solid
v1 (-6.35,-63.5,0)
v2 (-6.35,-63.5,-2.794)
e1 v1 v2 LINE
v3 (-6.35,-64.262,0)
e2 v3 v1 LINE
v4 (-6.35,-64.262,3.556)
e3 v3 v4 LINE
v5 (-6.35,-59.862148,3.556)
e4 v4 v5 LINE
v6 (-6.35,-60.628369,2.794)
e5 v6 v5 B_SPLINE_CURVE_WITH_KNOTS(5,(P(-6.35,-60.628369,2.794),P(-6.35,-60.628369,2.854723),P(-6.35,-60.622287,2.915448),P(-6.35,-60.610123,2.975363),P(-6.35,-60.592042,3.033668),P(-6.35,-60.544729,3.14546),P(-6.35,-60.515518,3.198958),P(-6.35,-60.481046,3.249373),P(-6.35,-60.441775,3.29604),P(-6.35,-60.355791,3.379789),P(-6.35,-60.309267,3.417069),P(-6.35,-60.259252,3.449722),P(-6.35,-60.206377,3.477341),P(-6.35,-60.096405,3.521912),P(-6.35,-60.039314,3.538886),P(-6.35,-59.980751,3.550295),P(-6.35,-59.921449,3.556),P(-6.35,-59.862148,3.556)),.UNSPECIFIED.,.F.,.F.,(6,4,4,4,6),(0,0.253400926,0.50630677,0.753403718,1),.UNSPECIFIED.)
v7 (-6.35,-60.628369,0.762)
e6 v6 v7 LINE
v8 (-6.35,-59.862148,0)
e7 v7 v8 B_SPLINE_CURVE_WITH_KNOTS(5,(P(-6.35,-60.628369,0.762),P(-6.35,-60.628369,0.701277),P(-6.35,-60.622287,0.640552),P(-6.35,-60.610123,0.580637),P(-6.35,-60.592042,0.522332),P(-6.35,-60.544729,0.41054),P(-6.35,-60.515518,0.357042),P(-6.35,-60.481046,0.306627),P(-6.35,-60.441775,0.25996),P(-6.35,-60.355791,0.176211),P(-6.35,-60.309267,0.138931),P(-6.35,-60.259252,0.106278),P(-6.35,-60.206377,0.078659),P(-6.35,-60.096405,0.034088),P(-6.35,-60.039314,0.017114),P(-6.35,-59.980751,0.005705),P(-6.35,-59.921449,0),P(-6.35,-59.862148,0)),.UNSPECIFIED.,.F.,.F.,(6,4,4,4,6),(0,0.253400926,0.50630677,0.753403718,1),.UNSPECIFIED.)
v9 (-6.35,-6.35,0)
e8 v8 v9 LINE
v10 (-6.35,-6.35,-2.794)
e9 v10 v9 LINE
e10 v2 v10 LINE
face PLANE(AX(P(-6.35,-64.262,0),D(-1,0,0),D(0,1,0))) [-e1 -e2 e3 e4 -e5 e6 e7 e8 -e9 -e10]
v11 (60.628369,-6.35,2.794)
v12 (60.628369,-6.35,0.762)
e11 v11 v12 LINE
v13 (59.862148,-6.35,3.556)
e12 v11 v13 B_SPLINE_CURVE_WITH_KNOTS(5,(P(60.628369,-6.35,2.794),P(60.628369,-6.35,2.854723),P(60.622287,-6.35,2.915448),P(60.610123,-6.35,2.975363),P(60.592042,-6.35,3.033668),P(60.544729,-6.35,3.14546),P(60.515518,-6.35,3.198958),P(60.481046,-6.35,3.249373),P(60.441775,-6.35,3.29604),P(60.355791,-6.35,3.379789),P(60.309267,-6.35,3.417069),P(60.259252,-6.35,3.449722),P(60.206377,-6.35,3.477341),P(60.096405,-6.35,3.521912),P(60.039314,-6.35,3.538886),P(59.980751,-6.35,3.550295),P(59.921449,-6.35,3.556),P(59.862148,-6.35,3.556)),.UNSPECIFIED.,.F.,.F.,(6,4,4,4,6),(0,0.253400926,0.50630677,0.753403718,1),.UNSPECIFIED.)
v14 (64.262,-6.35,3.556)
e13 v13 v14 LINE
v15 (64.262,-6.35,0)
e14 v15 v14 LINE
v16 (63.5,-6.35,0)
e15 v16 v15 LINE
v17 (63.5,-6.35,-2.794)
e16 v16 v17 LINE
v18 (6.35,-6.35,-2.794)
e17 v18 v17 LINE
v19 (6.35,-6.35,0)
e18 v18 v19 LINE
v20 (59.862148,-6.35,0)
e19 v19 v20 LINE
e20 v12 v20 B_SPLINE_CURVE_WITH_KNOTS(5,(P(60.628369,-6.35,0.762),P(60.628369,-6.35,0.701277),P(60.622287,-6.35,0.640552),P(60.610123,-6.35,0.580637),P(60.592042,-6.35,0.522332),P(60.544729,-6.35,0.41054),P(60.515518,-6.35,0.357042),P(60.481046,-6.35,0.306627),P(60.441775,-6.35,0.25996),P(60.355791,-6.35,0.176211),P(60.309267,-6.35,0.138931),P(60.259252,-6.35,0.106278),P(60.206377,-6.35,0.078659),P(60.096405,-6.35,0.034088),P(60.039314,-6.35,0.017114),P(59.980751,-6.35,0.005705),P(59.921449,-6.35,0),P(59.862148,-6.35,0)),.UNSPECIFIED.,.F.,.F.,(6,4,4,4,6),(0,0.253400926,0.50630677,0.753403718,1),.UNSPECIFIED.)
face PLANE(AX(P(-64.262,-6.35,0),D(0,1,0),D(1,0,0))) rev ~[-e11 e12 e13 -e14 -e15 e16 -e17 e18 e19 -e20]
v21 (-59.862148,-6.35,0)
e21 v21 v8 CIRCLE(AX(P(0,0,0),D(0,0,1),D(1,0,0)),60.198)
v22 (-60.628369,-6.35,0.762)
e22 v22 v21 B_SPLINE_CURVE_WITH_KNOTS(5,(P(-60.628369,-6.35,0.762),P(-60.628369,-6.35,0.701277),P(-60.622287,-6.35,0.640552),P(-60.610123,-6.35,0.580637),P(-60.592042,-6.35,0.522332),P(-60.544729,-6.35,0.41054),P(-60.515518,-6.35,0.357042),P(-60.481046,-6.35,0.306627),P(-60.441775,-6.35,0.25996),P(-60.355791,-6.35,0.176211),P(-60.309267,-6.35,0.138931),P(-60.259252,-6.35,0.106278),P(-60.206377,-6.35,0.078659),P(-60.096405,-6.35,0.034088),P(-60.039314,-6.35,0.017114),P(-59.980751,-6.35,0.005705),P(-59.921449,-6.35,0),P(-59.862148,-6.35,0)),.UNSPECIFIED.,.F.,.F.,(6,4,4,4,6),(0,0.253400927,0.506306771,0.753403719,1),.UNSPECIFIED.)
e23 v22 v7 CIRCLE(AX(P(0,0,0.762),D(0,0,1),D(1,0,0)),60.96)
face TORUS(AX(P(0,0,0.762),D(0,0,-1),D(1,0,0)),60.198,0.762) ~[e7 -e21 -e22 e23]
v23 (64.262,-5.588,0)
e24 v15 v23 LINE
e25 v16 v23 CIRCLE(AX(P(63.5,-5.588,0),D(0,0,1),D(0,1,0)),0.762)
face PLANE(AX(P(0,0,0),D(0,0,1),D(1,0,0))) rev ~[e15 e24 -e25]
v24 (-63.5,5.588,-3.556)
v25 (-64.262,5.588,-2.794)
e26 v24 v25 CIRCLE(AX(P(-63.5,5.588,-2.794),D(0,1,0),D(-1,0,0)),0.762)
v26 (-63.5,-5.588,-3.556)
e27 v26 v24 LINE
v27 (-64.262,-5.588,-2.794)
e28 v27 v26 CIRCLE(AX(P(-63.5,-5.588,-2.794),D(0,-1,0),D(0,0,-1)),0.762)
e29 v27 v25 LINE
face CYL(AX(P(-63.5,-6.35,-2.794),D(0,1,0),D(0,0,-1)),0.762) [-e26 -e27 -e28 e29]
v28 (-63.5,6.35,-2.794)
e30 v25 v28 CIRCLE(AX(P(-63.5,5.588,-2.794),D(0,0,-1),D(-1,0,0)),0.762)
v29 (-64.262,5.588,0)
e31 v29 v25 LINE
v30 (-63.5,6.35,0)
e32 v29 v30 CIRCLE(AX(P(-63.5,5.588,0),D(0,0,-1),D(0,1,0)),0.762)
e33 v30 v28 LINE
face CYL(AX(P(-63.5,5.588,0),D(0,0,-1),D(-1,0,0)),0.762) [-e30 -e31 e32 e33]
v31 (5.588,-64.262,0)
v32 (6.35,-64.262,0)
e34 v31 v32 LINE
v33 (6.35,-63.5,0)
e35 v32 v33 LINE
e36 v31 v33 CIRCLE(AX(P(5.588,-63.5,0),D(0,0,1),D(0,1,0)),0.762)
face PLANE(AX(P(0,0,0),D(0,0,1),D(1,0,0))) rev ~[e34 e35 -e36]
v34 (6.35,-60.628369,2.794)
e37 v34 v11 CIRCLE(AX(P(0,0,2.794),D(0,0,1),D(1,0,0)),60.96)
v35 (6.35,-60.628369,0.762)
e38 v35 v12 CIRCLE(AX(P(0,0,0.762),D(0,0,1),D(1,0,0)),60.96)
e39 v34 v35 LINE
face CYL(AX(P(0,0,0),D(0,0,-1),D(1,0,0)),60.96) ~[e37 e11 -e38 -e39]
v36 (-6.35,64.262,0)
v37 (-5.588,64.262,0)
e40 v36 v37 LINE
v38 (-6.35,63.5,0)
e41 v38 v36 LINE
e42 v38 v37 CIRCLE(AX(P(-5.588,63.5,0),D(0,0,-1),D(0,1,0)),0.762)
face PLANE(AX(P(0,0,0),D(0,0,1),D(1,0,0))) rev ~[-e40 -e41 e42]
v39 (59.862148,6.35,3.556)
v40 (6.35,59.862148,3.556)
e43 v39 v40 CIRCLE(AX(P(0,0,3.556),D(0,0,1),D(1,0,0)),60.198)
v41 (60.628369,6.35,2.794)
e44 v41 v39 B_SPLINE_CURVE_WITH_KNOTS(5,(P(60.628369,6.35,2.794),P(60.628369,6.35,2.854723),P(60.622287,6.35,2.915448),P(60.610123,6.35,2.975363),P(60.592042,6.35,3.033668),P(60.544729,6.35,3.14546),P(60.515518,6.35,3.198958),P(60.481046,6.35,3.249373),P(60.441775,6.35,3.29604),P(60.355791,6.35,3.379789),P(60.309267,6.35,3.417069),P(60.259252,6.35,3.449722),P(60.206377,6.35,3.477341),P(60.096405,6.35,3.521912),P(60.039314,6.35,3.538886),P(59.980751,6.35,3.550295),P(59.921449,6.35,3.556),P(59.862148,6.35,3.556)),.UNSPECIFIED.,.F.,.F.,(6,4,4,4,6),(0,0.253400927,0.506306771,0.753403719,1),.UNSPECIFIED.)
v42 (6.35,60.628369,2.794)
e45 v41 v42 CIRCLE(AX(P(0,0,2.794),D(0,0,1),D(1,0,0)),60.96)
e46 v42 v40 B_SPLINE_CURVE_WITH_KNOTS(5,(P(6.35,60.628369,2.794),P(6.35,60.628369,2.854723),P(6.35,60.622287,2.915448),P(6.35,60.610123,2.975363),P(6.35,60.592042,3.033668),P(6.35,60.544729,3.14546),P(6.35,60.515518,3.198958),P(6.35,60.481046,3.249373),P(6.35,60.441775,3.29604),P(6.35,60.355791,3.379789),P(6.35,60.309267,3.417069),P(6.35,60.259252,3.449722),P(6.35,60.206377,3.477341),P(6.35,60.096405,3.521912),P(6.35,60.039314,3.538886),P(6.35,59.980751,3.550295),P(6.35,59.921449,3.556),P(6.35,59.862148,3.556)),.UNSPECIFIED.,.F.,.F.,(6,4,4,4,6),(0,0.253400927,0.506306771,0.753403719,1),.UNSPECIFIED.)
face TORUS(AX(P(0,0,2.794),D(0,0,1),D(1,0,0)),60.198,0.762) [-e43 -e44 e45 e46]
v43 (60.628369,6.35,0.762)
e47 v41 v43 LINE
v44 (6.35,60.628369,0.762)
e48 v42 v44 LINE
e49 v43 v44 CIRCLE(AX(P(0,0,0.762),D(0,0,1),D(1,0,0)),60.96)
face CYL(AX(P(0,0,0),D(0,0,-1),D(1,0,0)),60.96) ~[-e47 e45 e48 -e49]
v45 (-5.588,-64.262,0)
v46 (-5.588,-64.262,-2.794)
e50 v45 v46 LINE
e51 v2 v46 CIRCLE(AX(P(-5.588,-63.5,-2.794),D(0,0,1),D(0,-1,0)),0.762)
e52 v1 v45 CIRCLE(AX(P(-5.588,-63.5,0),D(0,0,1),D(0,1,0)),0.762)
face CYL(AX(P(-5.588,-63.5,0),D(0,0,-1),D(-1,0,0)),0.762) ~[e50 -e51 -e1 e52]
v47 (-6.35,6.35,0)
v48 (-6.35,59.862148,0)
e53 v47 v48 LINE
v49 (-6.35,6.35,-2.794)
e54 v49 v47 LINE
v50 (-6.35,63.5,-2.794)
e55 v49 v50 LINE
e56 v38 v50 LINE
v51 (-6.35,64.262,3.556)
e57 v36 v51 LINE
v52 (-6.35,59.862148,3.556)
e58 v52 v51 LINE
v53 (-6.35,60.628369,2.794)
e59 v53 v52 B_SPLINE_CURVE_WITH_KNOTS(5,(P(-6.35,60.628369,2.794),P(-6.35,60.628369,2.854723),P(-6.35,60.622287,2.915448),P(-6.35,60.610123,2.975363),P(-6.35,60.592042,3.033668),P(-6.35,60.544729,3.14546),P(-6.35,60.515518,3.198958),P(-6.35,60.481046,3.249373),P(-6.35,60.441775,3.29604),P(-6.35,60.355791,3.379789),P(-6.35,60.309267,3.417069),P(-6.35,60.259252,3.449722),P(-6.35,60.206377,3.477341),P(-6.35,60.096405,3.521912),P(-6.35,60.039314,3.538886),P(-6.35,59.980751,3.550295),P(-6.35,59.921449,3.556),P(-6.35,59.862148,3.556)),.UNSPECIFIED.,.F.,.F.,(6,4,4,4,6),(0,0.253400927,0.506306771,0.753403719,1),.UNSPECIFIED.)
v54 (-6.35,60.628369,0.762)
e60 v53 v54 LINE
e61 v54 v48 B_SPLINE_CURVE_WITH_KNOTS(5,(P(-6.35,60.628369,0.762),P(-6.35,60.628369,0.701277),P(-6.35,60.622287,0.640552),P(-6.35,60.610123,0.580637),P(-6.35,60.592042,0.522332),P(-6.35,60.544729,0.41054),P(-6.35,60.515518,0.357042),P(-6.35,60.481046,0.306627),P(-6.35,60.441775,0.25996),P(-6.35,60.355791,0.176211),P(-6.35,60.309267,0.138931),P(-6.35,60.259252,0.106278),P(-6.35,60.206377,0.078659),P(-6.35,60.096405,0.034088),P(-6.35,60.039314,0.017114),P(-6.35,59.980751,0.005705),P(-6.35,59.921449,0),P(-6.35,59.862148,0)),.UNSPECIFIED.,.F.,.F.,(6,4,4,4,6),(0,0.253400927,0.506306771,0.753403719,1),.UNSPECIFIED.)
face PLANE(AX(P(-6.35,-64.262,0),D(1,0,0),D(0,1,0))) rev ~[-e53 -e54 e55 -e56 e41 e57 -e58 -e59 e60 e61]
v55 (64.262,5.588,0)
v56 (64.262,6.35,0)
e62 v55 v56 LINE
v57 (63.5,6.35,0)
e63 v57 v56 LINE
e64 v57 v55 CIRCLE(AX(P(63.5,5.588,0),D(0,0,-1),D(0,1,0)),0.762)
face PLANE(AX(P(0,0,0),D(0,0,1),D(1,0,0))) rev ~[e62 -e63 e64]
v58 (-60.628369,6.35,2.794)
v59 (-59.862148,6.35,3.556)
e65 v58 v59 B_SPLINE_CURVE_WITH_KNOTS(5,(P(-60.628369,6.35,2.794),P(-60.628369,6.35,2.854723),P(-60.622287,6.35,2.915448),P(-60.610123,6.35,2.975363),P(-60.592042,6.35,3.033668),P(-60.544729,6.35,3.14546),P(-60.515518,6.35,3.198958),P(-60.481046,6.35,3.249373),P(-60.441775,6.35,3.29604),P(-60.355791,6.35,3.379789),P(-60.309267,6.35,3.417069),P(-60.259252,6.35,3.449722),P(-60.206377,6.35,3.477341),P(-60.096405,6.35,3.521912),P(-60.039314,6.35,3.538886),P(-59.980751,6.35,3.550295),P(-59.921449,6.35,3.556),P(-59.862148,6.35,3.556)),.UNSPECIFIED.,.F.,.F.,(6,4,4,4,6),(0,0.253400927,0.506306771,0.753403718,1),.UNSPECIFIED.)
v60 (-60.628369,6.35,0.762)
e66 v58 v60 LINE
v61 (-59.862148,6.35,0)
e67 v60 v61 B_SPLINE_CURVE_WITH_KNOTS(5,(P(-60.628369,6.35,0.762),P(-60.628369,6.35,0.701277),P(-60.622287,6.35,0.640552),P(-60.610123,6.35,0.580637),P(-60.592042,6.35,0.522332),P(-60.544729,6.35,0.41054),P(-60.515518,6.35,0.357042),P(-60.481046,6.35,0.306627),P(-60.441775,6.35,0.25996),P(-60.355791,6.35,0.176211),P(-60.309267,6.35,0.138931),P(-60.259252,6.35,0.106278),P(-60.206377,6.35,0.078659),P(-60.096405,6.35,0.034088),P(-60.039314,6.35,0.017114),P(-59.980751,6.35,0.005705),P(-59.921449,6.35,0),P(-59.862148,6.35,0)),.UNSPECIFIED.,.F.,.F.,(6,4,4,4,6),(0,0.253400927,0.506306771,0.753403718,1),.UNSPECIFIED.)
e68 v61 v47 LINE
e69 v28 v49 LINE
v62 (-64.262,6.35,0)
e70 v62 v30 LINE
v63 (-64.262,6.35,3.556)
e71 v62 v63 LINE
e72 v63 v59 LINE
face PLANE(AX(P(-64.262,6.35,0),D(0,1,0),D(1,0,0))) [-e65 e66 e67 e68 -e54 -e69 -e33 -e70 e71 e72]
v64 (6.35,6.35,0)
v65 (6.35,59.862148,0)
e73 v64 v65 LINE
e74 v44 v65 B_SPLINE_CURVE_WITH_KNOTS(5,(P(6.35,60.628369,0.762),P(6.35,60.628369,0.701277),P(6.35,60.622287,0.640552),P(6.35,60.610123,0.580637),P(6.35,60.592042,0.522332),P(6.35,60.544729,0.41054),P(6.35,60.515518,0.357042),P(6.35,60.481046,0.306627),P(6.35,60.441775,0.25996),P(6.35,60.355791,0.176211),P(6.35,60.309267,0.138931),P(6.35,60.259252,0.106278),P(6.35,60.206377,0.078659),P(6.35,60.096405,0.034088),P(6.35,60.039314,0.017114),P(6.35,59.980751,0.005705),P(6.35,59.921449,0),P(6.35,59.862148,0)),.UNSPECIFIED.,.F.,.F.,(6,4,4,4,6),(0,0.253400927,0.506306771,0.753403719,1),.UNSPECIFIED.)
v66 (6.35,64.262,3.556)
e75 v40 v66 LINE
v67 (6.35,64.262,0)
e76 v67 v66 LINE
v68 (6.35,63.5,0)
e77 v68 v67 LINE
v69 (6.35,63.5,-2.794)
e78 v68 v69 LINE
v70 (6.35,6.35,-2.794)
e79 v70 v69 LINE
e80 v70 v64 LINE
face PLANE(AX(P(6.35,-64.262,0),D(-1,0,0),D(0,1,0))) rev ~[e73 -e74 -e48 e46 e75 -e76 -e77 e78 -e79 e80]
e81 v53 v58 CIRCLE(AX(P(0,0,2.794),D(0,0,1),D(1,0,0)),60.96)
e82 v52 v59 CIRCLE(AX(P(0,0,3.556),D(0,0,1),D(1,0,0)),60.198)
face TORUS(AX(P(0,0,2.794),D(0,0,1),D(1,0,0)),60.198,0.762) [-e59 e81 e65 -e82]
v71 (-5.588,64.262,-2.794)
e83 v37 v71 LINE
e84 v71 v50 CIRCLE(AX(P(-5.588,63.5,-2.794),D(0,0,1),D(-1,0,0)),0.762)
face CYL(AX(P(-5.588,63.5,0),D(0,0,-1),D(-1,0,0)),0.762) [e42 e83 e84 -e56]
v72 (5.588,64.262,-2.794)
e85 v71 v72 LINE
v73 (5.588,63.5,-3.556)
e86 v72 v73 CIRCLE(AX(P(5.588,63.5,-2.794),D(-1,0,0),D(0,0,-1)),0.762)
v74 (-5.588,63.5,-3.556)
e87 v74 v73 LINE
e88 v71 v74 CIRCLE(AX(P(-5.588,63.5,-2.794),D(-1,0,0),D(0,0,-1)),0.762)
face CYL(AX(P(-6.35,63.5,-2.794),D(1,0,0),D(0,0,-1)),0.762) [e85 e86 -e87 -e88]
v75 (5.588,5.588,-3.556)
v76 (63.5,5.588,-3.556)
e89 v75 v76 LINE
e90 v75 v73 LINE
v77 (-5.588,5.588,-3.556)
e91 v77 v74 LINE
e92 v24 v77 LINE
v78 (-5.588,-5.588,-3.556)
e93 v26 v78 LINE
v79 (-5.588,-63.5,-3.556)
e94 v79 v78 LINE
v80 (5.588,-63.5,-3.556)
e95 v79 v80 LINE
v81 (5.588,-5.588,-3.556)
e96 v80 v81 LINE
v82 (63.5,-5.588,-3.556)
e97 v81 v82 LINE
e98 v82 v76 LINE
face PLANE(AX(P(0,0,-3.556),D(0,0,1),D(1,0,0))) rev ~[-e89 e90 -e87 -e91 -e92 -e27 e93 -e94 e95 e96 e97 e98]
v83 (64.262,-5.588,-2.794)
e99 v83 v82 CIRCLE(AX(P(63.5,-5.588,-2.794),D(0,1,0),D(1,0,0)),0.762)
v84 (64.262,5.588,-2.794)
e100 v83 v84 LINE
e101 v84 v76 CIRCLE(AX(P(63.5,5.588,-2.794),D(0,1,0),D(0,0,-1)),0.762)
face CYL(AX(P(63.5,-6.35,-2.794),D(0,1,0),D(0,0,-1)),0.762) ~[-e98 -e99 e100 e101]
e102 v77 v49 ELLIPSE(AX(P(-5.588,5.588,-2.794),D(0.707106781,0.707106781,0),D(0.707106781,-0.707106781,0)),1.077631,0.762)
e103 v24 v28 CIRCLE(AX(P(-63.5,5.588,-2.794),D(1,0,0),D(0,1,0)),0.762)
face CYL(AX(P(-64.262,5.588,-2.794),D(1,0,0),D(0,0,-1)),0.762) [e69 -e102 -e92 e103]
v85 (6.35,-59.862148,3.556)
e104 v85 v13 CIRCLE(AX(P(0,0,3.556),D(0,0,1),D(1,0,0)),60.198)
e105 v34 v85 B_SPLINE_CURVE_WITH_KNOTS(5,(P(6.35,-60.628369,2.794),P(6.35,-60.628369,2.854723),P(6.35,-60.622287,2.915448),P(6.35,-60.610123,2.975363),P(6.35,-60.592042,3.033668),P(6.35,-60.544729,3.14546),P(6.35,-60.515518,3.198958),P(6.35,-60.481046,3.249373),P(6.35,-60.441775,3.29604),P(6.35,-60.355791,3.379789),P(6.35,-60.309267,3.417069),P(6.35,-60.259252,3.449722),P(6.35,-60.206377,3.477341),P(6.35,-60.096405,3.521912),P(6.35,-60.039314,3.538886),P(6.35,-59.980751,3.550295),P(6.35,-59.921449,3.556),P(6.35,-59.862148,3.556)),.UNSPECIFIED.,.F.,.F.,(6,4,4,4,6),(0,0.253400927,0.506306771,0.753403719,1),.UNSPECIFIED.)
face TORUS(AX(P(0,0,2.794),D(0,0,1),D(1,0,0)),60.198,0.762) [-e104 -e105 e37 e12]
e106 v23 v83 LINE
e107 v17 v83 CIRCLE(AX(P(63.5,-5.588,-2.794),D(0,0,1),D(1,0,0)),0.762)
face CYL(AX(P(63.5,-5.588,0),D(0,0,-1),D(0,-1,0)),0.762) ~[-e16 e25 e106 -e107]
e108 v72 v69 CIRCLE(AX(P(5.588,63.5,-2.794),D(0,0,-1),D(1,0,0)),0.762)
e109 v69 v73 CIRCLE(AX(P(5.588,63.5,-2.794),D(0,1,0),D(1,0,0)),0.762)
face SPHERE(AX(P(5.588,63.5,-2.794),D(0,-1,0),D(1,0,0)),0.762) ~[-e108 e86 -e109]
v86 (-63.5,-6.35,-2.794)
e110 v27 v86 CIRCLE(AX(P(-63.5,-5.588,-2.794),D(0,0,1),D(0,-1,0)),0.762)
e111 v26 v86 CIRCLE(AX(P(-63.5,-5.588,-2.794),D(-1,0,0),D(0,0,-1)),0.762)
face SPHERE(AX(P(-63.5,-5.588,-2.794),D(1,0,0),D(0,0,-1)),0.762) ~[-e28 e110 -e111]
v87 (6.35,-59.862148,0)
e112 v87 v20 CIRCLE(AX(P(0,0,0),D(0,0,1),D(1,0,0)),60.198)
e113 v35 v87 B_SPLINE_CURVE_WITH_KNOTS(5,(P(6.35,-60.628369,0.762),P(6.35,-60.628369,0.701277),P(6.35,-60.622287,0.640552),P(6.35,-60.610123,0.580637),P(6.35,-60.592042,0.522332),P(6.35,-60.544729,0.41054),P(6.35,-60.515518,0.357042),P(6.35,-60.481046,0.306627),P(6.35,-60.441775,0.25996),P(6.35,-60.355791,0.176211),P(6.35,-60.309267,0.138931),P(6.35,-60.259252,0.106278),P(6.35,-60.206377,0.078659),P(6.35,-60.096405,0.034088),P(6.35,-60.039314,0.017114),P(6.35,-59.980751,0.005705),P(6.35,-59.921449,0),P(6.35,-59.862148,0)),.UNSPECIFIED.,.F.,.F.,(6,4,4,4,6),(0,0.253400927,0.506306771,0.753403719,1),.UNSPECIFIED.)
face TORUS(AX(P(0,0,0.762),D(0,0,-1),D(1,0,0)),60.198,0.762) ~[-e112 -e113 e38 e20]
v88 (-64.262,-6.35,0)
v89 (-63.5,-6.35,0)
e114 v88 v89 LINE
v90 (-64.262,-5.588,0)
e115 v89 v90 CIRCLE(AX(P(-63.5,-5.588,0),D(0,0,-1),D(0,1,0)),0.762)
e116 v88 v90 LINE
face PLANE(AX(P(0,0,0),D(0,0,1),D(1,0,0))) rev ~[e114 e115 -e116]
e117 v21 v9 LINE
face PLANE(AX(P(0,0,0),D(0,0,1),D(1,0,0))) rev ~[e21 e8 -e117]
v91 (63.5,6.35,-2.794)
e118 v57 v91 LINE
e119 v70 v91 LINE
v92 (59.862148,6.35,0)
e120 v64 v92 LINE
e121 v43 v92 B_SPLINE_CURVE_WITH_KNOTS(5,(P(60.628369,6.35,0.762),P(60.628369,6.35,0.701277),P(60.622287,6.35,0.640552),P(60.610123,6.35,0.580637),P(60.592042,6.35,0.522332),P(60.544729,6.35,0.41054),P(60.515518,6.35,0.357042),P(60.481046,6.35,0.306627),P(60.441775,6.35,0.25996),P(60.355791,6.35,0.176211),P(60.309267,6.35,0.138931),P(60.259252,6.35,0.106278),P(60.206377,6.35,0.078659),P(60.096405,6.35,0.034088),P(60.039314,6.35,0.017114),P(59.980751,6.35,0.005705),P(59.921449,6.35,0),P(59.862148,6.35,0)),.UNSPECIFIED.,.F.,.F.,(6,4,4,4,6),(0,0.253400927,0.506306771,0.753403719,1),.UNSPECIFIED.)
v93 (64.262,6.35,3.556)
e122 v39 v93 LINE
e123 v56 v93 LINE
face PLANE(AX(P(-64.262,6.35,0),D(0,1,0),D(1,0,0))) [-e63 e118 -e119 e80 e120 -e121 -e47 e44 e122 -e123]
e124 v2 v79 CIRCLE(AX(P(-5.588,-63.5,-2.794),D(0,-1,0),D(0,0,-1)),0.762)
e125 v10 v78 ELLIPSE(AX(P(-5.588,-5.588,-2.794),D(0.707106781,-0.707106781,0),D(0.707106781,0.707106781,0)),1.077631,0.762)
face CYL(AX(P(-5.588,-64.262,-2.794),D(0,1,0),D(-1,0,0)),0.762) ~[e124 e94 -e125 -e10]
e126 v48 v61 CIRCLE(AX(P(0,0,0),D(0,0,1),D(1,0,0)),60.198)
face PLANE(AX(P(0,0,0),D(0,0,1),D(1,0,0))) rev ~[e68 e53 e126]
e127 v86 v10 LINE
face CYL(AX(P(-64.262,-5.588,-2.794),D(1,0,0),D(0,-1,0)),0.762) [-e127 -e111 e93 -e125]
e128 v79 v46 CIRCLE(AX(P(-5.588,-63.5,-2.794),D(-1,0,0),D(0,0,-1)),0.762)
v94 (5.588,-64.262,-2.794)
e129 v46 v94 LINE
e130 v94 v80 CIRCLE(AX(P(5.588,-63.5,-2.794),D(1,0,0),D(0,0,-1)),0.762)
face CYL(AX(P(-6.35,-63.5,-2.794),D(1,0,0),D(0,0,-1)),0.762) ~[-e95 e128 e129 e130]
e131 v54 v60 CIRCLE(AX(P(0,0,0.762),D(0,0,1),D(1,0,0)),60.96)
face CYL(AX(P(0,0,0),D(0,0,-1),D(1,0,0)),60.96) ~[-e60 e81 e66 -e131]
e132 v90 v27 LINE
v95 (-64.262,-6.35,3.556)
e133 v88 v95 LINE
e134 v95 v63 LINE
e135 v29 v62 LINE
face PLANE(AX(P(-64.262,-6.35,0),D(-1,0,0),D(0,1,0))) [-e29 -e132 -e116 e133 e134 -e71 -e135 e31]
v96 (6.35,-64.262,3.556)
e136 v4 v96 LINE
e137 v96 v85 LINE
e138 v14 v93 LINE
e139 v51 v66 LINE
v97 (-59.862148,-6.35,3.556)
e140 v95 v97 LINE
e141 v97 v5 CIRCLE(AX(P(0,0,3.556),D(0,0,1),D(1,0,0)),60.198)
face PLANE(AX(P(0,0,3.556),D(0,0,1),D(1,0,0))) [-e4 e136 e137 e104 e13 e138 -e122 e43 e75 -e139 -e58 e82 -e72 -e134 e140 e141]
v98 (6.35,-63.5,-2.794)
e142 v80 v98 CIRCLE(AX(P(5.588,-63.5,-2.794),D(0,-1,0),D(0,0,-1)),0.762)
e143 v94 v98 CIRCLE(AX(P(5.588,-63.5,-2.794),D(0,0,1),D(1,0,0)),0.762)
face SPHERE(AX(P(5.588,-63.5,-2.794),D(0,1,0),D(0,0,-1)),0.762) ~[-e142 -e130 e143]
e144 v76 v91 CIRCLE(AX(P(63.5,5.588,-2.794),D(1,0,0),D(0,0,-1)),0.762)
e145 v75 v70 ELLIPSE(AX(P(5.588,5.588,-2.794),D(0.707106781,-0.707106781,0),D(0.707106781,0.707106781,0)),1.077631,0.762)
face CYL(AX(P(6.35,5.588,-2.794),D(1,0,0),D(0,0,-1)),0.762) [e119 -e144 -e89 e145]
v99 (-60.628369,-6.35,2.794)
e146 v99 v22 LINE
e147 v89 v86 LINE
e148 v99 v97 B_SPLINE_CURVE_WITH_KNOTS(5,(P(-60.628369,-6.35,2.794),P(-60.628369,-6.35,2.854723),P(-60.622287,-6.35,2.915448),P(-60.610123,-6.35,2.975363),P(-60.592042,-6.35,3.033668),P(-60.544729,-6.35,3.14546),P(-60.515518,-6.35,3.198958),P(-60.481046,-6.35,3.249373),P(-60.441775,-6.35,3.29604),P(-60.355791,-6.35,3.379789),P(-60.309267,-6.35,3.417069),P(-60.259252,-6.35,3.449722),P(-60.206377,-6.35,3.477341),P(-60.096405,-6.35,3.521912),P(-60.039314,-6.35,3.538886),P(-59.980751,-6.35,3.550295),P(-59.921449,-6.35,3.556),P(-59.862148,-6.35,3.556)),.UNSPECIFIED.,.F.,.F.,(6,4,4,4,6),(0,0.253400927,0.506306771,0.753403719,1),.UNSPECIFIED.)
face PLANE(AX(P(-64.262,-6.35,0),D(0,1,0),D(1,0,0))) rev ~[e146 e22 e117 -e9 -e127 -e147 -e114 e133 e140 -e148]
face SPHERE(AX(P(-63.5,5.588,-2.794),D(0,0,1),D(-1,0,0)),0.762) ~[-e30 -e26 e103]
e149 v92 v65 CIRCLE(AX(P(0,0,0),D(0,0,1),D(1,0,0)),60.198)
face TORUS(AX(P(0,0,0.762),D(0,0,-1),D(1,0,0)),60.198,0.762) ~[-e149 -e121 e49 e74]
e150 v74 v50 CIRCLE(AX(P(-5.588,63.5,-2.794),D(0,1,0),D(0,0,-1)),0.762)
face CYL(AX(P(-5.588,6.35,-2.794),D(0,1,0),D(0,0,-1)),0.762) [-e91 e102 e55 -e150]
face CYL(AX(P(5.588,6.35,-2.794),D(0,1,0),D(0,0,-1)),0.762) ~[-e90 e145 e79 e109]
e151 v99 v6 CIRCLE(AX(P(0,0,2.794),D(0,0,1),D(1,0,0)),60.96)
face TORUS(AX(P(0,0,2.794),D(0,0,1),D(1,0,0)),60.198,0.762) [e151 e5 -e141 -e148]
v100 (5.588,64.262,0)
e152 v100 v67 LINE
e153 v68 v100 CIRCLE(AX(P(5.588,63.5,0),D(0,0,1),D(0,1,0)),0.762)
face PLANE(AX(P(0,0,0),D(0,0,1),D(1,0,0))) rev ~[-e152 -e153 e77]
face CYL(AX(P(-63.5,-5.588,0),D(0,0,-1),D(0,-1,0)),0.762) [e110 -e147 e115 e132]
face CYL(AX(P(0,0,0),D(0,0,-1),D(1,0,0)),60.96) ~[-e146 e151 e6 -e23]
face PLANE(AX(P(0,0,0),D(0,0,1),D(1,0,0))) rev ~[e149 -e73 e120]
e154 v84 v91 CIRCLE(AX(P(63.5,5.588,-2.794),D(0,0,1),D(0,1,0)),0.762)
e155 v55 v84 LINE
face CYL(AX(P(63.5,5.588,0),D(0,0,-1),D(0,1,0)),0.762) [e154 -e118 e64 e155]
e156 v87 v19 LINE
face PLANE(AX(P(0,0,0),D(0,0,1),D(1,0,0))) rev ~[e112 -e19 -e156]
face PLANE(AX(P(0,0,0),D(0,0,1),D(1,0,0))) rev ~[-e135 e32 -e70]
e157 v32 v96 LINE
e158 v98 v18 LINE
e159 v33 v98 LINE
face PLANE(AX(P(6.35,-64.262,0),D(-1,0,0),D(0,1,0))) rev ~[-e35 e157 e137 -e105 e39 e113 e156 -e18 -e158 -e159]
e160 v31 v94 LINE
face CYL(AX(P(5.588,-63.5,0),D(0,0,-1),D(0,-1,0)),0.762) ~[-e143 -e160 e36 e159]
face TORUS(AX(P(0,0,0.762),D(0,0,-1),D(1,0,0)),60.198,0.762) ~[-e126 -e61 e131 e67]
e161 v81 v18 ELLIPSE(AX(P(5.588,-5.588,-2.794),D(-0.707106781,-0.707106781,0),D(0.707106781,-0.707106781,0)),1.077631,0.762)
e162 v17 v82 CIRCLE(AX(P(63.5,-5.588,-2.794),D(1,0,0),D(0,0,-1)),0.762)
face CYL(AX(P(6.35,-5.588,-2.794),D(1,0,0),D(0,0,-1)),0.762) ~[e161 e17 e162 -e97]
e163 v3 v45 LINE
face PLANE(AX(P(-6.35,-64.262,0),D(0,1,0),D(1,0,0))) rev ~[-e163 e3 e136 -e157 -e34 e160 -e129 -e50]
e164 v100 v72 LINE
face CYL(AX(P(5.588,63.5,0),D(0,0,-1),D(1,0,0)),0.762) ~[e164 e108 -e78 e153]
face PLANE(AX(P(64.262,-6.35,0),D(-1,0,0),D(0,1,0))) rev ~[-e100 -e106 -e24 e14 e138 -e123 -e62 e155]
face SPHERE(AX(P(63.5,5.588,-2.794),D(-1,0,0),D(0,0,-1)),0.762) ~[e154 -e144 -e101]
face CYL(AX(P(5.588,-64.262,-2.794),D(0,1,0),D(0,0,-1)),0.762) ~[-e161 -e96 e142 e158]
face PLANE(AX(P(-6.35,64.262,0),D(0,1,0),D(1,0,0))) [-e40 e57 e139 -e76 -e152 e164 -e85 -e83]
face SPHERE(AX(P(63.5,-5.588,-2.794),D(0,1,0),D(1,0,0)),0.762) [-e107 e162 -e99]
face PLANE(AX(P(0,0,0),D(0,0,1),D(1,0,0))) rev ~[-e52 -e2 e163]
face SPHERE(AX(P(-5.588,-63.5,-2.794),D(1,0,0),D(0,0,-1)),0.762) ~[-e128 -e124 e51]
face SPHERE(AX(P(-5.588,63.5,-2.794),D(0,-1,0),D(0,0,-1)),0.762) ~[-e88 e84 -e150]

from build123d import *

# Parameters (mm, degrees)
SKETCH2_R           = 60.96
BOSS_EXTRUDE1_DEPTH = 3.556
FILLET1_R           = 0.762
SKETCH3_W           = 128.524
SKETCH3_H           = 12.7
BOSS_EXTRUDE2_DEPTH = 3.556
SKETCH4_W           = 12.7
SKETCH4_H           = 128.524
BOSS_EXTRUDE3_DEPTH = 3.556
FILLET2_R           = 0.762
SKETCH3_2_W         = 128.524
SKETCH3_2_H         = 12.7
BOSS_EXTRUDE4_DEPTH = 3.556
SKETCH4_2_W         = 12.7
SKETCH4_2_H         = 128.524
BOSS_EXTRUDE5_DEPTH = 3.556


with BuildPart() as part:
    # Sketch2 → Boss-Extrude1 (new body)
    with BuildSketch(Plane.XY):
        Circle(SKETCH2_R)
    extrude(amount=BOSS_EXTRUDE1_DEPTH)

    # Fillet1
    fillet1_edges = [part.edges().sort_by_distance(p)[0] for p in [
        (-60.96, 0, 0),
        (-60.96, 0, 3.556),
    ]]
    fillet(fillet1_edges, radius=FILLET1_R)

    # Sketch3 → Boss-Extrude2 (add)
    with BuildSketch(Plane.XY):
        Rectangle(SKETCH3_W, SKETCH3_H)
    extrude(amount=-BOSS_EXTRUDE2_DEPTH)

    # Sketch4 → Boss-Extrude3 (add)
    with BuildSketch(Plane.XY):
        Rectangle(SKETCH4_W, SKETCH4_H)
    extrude(amount=-BOSS_EXTRUDE3_DEPTH)

    # Fillet2
    fillet2_edges = [part.edges().sort_by_distance(p)[0] for p in [
        (35.306, 6.35, -3.556),
        (-64.262, 6.35, -1.778),
        (64.262, 0, -3.556),
        (64.262, 6.35, -1.778),
        (-35.306, -6.35, -3.556),
        (64.262, -6.35, -1.778),
        (-64.262, 0, -3.556),
        (-64.262, -6.35, -1.778),
        (-35.306, 6.35, -3.556),
        (35.306, -6.35, -3.556),
        (6.35, 35.306, -3.556),
        (6.35, 64.262, -1.778),
        (-6.35, 35.306, -3.556),
        (6.35, -35.306, -3.556),
        (0, -64.262, -3.556),
        (6.35, -64.262, -1.778),
        (-6.35, -35.306, -3.556),
        (-6.35, -64.262, -1.778),
        (0, 64.262, -3.556),
        (-6.35, 64.262, -1.778),
    ]]
    fillet(fillet2_edges, radius=FILLET2_R)

    # Sketch3<2> → Boss-Extrude4 (add)
    with BuildSketch(Plane.XY):
        Rectangle(SKETCH3_2_W, SKETCH3_2_H)
    extrude(amount=BOSS_EXTRUDE4_DEPTH)

    # Sketch4<2> → Boss-Extrude5 (add)
    with BuildSketch(Plane.XY):
        Rectangle(SKETCH4_2_W, SKETCH4_2_H)
    extrude(amount=BOSS_EXTRUDE5_DEPTH)


solid = part.part
